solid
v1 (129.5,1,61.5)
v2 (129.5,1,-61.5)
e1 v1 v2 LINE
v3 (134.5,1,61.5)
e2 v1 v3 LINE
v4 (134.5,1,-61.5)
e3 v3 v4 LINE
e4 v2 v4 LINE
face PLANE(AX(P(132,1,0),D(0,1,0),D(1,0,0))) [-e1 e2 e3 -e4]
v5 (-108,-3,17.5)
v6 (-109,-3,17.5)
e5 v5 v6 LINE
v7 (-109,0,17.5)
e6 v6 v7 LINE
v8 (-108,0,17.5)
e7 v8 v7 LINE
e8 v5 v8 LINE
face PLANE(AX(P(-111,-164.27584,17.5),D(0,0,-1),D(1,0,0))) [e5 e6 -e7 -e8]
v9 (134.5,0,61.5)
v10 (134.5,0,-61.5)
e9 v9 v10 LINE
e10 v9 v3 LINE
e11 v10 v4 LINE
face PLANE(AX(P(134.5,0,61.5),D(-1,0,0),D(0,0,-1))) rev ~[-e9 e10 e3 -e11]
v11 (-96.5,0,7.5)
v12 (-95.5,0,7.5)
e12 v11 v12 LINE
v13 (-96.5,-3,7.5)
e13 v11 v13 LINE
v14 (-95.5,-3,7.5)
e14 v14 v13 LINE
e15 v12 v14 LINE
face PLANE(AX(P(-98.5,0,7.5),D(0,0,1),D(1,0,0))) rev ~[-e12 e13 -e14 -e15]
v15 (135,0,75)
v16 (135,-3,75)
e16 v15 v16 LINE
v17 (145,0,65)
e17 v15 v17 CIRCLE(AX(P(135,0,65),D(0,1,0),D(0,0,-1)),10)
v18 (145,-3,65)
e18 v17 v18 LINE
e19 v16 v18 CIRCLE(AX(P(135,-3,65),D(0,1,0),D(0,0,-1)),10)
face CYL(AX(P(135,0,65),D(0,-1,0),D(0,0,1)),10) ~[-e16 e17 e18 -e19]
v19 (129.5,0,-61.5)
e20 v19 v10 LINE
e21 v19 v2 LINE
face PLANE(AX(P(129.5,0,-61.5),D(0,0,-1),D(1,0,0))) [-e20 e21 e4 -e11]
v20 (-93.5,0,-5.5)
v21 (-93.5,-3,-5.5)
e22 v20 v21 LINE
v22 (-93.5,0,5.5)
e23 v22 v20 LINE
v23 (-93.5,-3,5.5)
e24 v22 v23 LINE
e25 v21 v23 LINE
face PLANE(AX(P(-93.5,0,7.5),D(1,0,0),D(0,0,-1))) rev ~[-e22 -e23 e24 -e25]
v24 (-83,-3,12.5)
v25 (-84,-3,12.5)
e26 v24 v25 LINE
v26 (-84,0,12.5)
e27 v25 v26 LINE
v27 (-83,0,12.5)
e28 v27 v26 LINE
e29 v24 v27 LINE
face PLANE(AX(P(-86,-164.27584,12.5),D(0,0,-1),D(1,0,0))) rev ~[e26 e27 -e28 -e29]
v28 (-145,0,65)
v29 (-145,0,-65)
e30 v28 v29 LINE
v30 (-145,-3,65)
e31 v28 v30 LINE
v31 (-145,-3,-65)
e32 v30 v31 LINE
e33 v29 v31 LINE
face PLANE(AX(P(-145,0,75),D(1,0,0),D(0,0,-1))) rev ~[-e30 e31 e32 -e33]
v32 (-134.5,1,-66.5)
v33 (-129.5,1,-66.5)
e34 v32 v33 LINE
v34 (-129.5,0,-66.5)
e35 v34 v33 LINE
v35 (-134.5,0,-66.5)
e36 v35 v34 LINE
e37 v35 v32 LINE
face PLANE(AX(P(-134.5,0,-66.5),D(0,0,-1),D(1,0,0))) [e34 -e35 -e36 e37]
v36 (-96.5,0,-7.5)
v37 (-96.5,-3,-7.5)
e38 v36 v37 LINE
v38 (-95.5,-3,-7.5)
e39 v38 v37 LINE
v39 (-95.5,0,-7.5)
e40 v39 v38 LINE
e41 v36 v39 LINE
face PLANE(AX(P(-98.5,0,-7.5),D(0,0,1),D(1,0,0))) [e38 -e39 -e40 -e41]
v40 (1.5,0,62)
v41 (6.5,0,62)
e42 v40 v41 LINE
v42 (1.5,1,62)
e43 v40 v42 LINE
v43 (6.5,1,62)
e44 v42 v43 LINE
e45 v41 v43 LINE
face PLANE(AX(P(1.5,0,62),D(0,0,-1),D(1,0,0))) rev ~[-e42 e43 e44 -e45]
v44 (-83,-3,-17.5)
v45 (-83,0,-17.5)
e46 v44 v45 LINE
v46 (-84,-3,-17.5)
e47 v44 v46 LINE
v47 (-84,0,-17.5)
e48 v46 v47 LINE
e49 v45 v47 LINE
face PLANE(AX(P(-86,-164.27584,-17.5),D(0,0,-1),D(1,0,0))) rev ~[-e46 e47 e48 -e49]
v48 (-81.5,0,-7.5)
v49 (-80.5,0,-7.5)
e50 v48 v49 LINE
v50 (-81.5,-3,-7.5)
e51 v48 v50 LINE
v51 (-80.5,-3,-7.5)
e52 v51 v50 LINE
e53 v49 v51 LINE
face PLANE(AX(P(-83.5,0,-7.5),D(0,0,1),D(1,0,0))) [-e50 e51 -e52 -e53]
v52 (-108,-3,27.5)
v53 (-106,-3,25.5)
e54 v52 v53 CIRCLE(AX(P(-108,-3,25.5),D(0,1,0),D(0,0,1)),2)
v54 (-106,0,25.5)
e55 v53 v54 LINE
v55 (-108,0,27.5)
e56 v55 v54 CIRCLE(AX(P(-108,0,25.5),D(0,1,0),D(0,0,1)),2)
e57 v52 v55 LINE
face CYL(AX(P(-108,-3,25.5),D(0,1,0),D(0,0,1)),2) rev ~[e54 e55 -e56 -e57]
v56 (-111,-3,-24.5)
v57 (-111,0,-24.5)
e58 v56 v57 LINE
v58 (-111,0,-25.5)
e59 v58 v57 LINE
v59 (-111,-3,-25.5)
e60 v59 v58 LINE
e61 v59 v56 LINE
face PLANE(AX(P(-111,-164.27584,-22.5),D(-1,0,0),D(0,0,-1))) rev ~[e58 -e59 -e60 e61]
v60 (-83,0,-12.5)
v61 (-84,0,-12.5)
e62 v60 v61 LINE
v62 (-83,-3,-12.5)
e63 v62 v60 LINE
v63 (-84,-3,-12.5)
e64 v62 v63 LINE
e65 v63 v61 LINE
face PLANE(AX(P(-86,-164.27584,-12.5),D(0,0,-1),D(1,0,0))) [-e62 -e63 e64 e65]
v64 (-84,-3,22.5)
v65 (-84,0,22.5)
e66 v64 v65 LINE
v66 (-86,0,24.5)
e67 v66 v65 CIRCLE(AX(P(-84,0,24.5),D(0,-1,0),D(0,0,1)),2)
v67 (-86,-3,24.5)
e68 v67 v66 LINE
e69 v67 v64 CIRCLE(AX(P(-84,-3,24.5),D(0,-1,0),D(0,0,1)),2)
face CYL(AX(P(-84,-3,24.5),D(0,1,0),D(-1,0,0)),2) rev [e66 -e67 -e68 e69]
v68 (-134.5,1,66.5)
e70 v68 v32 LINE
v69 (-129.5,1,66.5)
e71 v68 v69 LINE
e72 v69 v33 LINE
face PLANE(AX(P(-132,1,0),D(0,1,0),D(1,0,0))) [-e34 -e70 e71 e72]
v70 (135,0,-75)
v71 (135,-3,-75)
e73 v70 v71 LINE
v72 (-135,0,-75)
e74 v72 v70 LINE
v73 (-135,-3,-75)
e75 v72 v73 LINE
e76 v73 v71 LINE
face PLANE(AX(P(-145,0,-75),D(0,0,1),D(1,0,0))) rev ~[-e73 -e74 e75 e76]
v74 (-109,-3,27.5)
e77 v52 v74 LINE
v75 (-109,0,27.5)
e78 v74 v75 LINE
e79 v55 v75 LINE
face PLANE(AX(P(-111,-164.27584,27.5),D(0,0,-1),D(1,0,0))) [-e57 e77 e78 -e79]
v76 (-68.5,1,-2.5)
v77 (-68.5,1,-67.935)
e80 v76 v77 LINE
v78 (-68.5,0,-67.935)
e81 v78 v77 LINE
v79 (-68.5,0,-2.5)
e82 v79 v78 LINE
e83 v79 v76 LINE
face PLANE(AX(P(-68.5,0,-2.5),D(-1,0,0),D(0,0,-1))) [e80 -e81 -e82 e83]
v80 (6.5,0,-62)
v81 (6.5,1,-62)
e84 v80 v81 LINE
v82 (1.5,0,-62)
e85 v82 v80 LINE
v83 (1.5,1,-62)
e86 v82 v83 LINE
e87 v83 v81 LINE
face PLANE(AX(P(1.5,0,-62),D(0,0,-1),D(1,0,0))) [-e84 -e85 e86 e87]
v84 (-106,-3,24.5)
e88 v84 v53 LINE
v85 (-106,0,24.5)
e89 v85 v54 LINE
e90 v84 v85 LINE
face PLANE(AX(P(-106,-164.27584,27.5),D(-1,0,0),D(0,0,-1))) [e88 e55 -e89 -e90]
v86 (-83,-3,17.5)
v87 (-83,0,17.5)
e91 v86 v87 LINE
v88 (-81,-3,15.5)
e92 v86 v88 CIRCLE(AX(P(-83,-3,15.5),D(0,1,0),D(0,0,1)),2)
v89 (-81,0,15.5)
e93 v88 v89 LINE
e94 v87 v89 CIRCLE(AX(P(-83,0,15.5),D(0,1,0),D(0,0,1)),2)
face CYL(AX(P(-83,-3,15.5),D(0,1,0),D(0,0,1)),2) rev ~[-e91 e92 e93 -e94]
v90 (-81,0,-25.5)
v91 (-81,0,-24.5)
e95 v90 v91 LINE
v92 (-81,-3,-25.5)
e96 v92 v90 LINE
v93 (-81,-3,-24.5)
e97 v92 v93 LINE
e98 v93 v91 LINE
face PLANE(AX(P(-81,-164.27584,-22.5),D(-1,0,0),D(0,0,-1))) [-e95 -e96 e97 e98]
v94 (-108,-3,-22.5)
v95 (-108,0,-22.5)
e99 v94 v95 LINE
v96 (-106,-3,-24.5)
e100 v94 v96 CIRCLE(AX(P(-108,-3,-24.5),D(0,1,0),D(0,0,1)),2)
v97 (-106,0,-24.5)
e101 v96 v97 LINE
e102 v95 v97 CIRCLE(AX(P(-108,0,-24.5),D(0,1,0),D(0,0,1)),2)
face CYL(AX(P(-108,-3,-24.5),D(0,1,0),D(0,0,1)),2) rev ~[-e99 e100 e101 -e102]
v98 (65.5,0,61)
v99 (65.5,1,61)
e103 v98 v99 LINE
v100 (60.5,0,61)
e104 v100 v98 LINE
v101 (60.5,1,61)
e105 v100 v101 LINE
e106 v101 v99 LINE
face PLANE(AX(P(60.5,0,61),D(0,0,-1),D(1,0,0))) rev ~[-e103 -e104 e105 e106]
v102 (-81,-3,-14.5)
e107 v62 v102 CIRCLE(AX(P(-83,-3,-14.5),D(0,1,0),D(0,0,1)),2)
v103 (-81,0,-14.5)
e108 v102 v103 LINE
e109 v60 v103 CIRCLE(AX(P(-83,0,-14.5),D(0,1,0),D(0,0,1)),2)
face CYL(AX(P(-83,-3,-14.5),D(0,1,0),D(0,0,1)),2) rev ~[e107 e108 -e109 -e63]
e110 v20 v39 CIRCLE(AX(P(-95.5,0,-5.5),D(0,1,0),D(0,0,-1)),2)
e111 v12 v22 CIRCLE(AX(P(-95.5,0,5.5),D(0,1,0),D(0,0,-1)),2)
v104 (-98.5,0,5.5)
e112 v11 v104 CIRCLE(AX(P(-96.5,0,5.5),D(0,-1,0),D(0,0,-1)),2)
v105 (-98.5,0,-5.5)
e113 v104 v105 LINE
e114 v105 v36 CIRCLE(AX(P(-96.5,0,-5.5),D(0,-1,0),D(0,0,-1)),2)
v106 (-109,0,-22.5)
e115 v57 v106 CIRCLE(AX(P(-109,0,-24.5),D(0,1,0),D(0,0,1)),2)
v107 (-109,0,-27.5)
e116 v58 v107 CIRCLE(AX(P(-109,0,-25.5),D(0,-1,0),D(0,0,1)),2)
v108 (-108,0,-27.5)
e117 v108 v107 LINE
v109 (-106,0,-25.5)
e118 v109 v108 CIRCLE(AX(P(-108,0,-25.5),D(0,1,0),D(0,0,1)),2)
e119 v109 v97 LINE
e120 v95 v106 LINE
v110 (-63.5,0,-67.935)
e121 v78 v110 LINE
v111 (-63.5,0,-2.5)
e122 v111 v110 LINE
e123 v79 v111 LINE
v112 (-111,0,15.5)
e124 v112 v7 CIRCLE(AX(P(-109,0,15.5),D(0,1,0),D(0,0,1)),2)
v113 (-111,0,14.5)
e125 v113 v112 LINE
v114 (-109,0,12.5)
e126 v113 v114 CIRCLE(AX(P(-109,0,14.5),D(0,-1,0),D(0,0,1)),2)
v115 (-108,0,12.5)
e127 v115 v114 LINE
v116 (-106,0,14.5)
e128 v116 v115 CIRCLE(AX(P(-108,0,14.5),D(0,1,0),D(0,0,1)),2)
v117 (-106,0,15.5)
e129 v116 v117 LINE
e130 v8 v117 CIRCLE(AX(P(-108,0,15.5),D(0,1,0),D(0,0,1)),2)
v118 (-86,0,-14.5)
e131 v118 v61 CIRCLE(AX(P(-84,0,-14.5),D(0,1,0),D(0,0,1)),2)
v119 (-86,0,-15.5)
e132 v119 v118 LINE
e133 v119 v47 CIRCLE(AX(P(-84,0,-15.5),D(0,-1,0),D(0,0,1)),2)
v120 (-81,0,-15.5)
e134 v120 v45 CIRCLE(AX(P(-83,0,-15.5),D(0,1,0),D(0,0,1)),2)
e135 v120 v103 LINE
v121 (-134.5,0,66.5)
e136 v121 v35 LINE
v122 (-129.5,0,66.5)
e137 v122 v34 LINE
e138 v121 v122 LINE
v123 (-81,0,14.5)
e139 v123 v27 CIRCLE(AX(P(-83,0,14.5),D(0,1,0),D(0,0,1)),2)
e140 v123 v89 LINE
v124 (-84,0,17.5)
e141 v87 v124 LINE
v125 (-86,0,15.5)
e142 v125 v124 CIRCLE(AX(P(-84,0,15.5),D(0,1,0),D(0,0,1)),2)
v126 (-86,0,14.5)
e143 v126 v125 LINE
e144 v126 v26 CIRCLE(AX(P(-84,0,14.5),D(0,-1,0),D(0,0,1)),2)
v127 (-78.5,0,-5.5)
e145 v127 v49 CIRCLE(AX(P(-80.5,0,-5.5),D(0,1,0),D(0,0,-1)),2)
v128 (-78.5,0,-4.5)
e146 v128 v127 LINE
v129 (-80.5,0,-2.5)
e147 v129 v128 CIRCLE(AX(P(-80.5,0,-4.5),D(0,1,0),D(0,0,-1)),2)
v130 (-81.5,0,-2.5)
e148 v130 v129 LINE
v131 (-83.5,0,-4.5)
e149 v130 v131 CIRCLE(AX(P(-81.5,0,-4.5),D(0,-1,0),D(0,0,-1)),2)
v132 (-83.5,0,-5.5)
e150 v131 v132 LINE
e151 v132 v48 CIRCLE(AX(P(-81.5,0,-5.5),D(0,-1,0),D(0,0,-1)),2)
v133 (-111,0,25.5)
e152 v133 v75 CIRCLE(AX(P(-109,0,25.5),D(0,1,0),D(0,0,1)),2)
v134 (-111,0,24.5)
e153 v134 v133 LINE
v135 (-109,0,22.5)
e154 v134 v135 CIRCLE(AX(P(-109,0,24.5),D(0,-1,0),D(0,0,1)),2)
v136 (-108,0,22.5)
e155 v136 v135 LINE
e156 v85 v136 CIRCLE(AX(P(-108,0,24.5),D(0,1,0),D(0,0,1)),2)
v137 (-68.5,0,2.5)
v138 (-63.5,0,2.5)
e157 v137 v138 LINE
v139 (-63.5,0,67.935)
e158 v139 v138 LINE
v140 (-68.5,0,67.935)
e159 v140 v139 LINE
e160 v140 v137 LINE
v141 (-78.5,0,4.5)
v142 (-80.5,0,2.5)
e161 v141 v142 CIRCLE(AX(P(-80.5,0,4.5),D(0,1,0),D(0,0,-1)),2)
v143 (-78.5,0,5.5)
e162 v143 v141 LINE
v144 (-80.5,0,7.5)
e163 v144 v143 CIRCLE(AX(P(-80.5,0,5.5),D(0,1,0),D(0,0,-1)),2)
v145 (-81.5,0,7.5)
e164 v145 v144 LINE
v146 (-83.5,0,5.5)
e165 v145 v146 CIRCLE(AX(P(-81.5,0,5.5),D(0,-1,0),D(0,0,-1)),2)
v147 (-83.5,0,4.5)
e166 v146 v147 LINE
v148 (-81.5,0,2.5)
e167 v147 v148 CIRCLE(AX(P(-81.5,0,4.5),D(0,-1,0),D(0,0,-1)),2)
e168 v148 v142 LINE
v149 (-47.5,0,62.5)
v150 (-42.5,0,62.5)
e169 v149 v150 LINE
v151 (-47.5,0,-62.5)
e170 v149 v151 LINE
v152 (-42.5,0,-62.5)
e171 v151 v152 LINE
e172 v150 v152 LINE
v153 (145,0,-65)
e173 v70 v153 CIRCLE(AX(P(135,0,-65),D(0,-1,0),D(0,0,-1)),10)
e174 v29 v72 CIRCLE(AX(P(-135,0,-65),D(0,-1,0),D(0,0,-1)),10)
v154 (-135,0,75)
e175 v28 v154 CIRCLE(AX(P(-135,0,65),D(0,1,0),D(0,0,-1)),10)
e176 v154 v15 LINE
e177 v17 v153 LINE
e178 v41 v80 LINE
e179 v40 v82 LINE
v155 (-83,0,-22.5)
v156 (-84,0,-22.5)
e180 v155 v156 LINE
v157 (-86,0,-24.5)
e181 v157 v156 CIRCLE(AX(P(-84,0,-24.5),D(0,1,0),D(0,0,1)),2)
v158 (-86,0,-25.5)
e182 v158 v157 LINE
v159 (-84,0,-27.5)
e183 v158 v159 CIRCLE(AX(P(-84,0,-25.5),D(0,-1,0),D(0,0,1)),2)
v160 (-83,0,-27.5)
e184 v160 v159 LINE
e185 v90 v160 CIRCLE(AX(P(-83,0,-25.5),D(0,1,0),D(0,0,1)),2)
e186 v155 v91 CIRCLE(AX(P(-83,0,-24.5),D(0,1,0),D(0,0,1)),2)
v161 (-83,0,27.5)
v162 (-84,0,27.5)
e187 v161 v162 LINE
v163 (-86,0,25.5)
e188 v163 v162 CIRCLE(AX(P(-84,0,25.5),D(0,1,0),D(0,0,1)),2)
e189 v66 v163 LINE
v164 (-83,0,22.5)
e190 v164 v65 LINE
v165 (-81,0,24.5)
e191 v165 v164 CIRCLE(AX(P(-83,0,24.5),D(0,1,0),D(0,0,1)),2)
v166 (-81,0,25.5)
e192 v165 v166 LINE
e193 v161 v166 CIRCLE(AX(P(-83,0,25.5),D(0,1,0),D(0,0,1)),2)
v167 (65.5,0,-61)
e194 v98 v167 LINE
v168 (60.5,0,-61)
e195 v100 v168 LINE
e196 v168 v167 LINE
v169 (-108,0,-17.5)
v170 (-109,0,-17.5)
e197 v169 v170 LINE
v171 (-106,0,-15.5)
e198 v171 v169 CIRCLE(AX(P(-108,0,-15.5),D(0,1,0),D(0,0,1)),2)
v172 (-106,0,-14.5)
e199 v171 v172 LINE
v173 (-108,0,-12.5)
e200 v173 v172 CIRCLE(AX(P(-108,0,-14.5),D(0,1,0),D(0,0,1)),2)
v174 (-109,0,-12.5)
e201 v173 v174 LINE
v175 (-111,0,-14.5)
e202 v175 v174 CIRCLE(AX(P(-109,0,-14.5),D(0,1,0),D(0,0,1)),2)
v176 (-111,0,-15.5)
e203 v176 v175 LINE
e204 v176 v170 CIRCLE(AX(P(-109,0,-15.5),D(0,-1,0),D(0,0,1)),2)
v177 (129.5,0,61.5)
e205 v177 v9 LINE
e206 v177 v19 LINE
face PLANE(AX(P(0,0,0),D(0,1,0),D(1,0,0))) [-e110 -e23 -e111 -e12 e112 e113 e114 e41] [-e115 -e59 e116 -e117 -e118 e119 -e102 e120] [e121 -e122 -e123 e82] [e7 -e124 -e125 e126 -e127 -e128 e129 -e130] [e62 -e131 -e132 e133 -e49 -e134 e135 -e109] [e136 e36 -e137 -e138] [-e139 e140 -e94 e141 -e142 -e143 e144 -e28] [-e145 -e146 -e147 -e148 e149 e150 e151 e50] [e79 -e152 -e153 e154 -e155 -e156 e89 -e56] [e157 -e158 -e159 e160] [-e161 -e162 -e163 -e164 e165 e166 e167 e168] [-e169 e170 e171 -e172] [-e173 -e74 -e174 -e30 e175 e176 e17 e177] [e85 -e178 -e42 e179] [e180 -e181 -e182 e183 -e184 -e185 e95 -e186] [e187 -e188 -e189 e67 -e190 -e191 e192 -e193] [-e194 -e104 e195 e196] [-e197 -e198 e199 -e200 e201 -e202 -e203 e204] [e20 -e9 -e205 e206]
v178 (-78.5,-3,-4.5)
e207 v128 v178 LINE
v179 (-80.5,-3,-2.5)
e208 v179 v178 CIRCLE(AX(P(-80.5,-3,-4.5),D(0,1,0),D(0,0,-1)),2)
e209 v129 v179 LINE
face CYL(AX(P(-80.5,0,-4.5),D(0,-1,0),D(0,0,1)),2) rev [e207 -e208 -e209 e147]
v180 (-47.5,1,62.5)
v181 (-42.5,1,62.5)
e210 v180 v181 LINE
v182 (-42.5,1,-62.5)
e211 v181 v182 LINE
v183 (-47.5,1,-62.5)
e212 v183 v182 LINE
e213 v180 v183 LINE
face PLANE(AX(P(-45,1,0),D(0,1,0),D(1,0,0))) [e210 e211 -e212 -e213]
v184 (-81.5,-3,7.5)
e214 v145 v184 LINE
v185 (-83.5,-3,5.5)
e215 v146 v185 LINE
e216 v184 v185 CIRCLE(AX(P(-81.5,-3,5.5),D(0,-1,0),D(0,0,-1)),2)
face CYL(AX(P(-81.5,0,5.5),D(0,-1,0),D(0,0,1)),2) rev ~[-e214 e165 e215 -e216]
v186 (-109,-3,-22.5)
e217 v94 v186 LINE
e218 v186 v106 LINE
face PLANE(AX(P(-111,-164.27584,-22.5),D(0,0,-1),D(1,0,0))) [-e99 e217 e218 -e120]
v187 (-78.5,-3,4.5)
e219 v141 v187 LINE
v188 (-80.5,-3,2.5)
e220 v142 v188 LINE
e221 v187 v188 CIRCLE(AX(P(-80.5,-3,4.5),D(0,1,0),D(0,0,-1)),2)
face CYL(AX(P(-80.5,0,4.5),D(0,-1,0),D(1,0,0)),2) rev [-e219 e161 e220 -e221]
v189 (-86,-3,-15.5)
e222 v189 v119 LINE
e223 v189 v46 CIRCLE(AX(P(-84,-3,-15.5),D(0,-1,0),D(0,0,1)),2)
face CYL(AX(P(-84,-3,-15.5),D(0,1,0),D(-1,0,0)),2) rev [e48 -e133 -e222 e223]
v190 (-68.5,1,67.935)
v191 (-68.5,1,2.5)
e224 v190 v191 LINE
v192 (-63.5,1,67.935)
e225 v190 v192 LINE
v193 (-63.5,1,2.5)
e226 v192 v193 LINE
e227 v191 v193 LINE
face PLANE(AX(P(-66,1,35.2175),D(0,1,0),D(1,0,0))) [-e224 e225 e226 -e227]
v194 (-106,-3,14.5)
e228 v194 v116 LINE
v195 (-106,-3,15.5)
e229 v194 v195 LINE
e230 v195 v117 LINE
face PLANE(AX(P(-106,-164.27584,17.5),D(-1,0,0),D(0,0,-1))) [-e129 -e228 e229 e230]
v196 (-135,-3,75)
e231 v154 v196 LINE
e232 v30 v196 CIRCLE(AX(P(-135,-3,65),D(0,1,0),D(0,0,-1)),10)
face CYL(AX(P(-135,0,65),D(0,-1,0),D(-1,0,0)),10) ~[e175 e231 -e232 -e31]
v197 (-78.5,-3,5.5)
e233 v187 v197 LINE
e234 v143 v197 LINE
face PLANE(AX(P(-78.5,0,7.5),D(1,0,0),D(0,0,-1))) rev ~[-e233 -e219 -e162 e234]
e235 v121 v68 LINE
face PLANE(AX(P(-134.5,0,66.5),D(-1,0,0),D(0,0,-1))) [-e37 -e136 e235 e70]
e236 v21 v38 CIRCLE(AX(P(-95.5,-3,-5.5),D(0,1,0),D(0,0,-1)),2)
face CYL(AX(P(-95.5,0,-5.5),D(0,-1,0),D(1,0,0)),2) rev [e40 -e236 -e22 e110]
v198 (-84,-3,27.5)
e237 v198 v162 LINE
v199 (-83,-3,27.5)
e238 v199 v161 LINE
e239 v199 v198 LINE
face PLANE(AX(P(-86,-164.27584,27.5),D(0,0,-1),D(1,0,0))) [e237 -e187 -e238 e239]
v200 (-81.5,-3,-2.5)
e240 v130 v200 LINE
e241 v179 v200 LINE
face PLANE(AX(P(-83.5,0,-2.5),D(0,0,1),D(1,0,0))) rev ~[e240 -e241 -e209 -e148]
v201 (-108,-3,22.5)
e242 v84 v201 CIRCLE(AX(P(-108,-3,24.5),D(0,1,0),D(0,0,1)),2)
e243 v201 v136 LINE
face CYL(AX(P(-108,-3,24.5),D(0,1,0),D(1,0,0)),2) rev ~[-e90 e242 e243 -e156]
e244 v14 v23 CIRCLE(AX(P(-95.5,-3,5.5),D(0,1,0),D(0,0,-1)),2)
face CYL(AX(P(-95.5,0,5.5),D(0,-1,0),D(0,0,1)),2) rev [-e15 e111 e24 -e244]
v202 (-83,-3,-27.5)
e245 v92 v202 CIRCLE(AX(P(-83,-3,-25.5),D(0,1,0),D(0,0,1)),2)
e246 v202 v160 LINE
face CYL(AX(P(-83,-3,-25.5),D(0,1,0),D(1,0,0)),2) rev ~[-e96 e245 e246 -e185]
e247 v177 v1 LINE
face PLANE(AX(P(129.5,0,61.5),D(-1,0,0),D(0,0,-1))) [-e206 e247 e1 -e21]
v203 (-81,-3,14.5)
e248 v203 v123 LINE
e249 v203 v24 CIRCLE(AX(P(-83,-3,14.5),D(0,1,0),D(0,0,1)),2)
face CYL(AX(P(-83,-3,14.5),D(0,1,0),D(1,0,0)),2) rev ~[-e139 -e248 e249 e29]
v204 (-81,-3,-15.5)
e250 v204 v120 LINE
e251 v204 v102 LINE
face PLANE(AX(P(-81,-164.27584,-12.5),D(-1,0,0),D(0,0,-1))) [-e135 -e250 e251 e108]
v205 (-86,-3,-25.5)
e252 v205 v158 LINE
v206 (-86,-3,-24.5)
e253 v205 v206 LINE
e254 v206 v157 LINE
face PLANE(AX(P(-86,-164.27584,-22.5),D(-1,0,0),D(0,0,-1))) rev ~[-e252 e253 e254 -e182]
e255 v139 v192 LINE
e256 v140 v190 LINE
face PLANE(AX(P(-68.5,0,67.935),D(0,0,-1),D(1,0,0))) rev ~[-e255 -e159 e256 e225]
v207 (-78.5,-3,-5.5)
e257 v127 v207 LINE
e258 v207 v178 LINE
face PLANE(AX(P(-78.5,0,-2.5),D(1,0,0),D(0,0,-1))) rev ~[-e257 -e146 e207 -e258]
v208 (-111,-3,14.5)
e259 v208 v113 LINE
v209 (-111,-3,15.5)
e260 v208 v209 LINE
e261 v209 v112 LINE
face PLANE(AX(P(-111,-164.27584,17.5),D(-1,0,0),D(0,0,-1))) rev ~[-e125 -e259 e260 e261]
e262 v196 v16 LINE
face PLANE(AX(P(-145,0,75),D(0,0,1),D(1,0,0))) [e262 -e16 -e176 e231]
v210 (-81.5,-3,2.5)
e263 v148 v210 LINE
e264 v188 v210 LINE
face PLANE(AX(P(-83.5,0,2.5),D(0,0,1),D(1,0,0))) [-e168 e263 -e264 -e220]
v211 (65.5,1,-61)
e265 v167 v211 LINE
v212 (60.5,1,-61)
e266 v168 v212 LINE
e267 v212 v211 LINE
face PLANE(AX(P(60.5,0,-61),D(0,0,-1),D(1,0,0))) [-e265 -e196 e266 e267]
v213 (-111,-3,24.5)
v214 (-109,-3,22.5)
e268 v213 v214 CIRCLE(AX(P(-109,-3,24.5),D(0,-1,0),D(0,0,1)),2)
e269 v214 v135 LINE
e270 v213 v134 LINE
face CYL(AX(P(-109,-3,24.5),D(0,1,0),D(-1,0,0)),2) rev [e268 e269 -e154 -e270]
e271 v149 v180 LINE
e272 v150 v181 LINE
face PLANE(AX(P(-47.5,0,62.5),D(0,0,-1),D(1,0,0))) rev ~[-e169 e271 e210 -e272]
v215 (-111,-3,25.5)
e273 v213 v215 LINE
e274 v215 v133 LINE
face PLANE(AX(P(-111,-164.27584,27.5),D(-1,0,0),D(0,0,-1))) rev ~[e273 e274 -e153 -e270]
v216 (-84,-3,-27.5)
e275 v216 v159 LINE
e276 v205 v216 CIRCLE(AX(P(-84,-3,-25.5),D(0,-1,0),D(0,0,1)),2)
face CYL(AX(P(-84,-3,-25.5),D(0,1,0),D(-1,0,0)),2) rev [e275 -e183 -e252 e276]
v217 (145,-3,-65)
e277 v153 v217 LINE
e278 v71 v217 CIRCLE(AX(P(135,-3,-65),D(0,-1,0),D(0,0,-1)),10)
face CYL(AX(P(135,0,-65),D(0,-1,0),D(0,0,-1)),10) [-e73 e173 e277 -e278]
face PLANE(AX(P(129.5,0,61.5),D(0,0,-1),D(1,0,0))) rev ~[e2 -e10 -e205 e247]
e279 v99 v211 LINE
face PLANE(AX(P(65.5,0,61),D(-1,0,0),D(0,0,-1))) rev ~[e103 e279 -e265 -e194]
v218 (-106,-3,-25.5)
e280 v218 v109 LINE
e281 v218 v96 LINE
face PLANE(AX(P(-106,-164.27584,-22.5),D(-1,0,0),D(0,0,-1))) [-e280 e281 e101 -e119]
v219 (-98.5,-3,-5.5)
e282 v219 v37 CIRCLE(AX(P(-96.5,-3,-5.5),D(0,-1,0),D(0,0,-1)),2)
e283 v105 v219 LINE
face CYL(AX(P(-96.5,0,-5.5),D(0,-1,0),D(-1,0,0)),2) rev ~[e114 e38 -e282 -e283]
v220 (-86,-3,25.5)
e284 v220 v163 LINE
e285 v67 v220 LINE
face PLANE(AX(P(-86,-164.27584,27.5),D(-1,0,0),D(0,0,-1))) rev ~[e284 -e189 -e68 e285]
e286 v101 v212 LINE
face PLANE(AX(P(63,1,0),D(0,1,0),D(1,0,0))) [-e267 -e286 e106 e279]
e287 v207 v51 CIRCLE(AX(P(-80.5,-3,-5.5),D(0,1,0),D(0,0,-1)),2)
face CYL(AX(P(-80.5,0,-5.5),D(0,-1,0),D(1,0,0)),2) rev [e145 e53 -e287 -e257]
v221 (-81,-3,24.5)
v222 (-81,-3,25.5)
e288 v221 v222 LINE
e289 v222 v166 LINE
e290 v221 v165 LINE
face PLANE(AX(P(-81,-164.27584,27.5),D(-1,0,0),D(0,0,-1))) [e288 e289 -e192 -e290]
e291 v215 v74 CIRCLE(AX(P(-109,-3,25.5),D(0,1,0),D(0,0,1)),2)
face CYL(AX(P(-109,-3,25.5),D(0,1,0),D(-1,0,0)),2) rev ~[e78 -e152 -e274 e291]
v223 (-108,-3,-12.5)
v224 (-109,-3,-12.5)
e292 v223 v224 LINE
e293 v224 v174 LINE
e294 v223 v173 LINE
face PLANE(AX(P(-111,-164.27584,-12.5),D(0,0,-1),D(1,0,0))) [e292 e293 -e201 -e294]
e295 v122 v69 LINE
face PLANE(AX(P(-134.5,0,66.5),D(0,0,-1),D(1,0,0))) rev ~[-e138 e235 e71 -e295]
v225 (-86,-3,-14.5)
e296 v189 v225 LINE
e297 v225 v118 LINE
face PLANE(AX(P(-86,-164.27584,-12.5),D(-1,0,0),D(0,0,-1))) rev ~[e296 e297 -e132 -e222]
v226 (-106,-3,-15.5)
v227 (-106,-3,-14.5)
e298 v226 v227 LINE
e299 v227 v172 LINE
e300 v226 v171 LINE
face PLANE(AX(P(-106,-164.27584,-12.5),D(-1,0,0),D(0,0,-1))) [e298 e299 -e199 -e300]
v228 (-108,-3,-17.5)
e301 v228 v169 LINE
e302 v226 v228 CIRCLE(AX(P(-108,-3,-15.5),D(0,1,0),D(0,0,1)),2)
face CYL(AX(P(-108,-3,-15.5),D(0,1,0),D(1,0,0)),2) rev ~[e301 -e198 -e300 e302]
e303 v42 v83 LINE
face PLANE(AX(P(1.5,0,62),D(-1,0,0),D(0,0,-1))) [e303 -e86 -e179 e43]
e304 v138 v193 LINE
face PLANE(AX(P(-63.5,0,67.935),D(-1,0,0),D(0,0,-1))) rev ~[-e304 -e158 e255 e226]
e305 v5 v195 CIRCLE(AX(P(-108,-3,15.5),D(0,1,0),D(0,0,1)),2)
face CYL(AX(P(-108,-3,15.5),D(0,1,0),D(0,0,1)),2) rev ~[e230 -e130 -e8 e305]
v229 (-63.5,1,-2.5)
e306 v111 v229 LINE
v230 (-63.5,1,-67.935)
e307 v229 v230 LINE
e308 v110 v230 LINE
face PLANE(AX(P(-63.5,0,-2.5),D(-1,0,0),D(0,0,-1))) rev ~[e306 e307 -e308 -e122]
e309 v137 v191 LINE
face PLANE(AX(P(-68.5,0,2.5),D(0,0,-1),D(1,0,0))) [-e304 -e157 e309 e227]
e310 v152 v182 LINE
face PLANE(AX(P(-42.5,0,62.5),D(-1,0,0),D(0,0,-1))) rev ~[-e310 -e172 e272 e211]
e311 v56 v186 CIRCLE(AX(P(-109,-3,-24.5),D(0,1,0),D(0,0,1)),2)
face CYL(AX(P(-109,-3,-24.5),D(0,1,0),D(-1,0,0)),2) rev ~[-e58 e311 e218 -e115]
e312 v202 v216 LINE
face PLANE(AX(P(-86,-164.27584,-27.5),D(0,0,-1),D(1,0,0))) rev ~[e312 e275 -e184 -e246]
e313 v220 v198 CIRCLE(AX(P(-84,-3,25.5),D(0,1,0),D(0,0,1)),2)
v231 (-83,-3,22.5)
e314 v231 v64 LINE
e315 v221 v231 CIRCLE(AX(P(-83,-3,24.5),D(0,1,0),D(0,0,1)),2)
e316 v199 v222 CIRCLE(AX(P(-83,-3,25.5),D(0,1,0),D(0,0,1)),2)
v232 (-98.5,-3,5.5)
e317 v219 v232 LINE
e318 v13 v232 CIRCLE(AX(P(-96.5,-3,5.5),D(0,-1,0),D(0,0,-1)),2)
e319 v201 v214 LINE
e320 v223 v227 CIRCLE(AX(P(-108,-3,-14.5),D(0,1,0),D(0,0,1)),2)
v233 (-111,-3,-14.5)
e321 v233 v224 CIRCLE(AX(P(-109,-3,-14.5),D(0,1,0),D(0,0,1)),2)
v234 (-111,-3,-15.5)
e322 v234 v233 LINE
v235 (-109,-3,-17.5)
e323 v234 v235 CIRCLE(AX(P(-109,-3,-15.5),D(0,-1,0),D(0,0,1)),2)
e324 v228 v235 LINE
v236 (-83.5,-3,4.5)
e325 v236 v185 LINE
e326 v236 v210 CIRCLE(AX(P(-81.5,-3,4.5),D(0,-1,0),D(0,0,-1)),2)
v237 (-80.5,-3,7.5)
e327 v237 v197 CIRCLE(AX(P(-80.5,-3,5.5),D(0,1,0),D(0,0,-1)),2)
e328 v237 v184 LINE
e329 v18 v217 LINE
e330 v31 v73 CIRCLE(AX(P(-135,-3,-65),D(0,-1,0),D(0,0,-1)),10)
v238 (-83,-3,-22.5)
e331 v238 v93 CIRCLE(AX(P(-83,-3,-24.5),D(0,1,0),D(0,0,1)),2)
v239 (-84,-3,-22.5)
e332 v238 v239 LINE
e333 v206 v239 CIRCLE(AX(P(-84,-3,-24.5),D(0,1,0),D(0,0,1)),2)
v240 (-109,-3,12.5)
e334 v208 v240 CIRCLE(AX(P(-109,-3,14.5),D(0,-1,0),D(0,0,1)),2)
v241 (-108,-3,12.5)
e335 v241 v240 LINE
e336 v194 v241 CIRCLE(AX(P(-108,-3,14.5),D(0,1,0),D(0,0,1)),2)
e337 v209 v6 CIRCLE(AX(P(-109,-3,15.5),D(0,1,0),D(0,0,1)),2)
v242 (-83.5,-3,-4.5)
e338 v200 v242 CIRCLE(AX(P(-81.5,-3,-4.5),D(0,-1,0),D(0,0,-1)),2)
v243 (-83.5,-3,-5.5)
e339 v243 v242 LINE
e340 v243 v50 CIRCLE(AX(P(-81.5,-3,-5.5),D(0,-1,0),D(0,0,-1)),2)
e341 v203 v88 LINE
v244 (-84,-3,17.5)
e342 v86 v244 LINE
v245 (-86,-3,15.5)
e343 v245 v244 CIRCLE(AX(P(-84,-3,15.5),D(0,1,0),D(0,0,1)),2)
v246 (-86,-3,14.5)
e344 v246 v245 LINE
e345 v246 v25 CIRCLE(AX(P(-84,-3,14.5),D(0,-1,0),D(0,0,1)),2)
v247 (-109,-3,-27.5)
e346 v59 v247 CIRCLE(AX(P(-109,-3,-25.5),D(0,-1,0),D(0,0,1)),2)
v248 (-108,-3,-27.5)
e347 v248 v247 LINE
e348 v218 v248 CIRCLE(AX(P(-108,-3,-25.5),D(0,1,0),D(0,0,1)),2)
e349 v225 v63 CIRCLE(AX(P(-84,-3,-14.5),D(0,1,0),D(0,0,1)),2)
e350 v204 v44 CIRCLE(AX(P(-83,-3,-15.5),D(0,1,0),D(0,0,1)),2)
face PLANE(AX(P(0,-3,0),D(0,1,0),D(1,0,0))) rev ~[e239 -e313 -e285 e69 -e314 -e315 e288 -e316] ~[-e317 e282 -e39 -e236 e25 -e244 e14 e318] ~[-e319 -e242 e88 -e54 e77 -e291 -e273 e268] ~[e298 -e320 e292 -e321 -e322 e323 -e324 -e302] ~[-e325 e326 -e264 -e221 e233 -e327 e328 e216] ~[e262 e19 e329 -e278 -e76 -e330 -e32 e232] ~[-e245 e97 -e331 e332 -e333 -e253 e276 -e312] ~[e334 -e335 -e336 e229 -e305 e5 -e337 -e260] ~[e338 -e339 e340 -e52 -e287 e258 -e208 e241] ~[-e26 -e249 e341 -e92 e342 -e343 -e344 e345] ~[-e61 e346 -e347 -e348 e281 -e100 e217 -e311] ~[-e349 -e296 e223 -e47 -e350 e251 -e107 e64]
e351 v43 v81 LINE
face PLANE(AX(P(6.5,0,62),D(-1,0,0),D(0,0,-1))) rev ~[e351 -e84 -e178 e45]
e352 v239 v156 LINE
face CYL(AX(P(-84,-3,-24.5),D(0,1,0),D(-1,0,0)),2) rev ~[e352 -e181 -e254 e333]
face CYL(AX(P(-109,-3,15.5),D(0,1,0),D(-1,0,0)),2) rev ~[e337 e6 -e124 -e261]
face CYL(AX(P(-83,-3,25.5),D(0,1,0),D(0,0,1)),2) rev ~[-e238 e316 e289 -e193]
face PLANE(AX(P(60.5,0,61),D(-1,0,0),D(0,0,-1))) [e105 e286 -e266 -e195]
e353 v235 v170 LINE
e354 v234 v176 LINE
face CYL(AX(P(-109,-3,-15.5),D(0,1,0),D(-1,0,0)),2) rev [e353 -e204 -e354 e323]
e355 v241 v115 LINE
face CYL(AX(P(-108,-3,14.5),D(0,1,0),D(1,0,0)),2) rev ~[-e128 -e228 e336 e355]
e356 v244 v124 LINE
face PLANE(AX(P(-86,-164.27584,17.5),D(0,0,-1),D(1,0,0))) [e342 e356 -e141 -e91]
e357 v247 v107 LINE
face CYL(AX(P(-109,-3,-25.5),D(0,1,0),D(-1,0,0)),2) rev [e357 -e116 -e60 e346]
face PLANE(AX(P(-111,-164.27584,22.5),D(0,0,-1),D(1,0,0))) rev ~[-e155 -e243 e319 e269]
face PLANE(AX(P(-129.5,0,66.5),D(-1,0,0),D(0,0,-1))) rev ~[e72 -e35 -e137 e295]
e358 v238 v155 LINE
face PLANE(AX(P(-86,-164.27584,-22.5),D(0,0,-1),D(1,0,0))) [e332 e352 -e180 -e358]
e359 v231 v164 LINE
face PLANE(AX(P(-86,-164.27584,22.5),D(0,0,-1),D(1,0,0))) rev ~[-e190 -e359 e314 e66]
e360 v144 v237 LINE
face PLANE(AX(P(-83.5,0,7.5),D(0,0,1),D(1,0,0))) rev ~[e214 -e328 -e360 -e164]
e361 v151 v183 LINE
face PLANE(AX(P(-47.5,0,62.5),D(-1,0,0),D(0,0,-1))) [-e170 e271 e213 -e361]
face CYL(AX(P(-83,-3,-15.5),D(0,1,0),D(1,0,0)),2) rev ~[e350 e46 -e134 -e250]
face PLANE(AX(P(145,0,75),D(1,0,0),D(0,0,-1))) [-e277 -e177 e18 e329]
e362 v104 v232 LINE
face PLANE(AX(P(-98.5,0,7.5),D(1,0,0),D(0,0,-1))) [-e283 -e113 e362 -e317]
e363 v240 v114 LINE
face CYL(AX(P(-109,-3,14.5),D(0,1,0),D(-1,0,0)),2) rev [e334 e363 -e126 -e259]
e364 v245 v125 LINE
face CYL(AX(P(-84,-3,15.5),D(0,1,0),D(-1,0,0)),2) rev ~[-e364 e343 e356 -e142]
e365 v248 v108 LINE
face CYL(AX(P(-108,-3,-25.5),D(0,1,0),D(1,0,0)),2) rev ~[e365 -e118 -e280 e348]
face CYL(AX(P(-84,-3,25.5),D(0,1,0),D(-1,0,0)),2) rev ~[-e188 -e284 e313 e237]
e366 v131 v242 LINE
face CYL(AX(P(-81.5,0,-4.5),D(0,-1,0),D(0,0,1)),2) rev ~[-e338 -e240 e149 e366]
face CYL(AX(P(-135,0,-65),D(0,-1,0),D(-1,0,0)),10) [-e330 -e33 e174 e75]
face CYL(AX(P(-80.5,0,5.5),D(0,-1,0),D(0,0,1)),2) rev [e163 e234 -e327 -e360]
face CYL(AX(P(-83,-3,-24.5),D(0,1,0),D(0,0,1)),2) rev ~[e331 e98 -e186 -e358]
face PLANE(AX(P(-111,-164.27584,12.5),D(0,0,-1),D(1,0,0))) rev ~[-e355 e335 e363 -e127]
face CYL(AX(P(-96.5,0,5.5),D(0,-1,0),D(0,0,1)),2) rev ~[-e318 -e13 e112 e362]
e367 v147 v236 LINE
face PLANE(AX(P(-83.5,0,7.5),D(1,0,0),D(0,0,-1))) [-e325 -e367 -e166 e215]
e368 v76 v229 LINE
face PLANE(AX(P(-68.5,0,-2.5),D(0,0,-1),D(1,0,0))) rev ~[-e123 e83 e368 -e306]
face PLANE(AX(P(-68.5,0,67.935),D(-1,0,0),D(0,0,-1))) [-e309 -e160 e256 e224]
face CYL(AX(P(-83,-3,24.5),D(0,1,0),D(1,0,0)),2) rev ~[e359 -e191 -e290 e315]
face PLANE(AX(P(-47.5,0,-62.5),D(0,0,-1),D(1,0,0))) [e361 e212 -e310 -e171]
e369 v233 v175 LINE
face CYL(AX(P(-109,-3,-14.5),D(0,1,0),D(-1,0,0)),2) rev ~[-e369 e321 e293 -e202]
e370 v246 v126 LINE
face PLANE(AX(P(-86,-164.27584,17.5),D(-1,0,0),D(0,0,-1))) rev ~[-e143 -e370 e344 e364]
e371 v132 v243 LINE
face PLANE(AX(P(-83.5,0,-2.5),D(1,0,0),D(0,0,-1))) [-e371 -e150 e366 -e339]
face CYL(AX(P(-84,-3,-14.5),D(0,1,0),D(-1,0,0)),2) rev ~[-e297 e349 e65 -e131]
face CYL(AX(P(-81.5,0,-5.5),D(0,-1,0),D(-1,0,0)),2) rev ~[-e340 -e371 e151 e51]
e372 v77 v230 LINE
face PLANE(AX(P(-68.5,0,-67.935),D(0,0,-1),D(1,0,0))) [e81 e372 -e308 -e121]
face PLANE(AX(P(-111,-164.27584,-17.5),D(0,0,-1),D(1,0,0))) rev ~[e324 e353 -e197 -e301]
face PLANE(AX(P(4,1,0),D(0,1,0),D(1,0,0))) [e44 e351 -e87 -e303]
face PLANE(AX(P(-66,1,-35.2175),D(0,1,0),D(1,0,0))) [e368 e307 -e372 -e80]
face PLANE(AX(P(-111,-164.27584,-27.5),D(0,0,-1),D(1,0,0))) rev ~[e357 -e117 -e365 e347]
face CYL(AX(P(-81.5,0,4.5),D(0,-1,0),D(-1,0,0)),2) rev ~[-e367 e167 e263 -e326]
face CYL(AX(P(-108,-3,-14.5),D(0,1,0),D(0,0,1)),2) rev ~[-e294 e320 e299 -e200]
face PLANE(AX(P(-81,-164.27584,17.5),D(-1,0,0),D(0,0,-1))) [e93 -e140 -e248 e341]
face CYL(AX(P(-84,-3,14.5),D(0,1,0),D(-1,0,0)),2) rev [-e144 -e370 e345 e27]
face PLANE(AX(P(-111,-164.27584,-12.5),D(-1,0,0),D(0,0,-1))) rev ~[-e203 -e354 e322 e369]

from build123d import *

# Parameters (mm, degrees)
SKETCH2_W                = 5
SKETCH2_H                = 133
ELEMENTGEOMETRY_DEPTH    = 1
SKETCH2_H_2              = 65.435
ELEMENTGEOMETRY_2_DEPTH  = 1
ELEMENTGEOMETRY_3_DEPTH  = 1
SKETCH2_H_3              = 125
ELEMENTGEOMETRY_4_DEPTH  = 1
SKETCH2_H_4              = 124
ELEMENTGEOMETRY_5_DEPTH  = 1
SKETCH2_H_5              = 123
ELEMENTGEOMETRY_6_DEPTH  = 1
SKETCH2_H_6              = 122
ELEMENTGEOMETRY_7_DEPTH  = 1
SKETCH5_W                = 290
SKETCH5_H                = 150
BOARDGEOMETRY_DEPTH      = 3
CABLECUTOUT_REACH        = 165.276
SKETCH7_W                = 5
SKETCH7_H                = 5
SKETCH7_H_2              = 15
MOUNTINGHOLES_DEPTH      = 164.275840221
MOUNTINGHOLES_DEPTH_BACK = 164.275840221
SKETCH8_W                = 5
SKETCH8_H                = 5
BOARDFILLET_R            = 10
MOUNTINGHOLEFILLET_R     = 2


with BuildPart() as part:
    # Sketch2 → ElementGeometry (new body)
    with BuildSketch(Plane(origin=(0, 0, 0), x_dir=(1, 0, 0), z_dir=(0, 1, 0))):
        with Locations((-132, 0)):
            Rectangle(SKETCH2_W, SKETCH2_H)
    extrude(amount=ELEMENTGEOMETRY_DEPTH)



with BuildPart() as body_2:
    # Sketch2 → ElementGeometry 2 (new body)
    with BuildSketch(Plane(origin=(0, 0, 0), x_dir=(1, 0, 0), z_dir=(0, 1, 0))):
        with Locations((-66, 35.2175)):
            Rectangle(SKETCH2_W, SKETCH2_H_2)
    extrude(amount=ELEMENTGEOMETRY_2_DEPTH)


with BuildPart() as body_3:
    # Sketch2 → ElementGeometry 3 (new body)
    with BuildSketch(Plane(origin=(0, 0, 0), x_dir=(1, 0, 0), z_dir=(0, 1, 0))):
        with Locations((-66, -35.2175)):
            Rectangle(SKETCH2_W, SKETCH2_H_2)
    extrude(amount=ELEMENTGEOMETRY_3_DEPTH)


with BuildPart() as body_4:
    # Sketch2 → ElementGeometry 4 (new body)
    with BuildSketch(Plane(origin=(0, 0, 0), x_dir=(1, 0, 0), z_dir=(0, 1, 0))):
        with Locations((-45, 0)):
            Rectangle(SKETCH2_W, SKETCH2_H_3)
    extrude(amount=ELEMENTGEOMETRY_4_DEPTH)


with BuildPart() as body_5:
    # Sketch2 → ElementGeometry 5 (new body)
    with BuildSketch(Plane(origin=(0, 0, 0), x_dir=(1, 0, 0), z_dir=(0, 1, 0))):
        with Locations((4, 0)):
            Rectangle(SKETCH2_W, SKETCH2_H_4)
    extrude(amount=ELEMENTGEOMETRY_5_DEPTH)


with BuildPart() as body_6:
    # Sketch2 → ElementGeometry 6 (new body)
    with BuildSketch(Plane(origin=(0, 0, 0), x_dir=(1, 0, 0), z_dir=(0, 1, 0))):
        with Locations((132, 0)):
            Rectangle(SKETCH2_W, SKETCH2_H_5)
    extrude(amount=ELEMENTGEOMETRY_6_DEPTH)


with BuildPart() as body_7:
    # Sketch2 → ElementGeometry 7 (new body)
    with BuildSketch(Plane(origin=(0, 0, 0), x_dir=(1, 0, 0), z_dir=(0, 1, 0))):
        with Locations((63, 0)):
            Rectangle(SKETCH2_W, SKETCH2_H_6)
    extrude(amount=ELEMENTGEOMETRY_7_DEPTH)


with BuildPart() as part_1:
    add(part.part)

    add(body_2.part)  # BoardGeometry merges body 2

    add(body_3.part)  # BoardGeometry merges body 3

    add(body_4.part)  # BoardGeometry merges body 4

    add(body_5.part)  # BoardGeometry merges body 5

    add(body_6.part)  # BoardGeometry merges body 6

    add(body_7.part)  # BoardGeometry merges body 7
    # Sketch5 → BoardGeometry (add)
    with BuildSketch(Plane(origin=(0, 0, 0), x_dir=(1, 0, 0), z_dir=(0, 1, 0))):
        Rectangle(SKETCH5_W, SKETCH5_H)
    extrude(amount=-BOARDGEOMETRY_DEPTH)

    # Sketch7 → CableCutout (cut, up to next)
    with BuildSketch(Plane(origin=(0, 0, 0), x_dir=(1, 0, 0), z_dir=(0, 1, 0)), mode=Mode.PRIVATE) as cablecutout_sk1:
        with Locations((-81, -5)):
            Rectangle(SKETCH7_W, SKETCH7_H)
    cablecutout_tool1 = extrude(cablecutout_sk1.sketch, amount=-CABLECUTOUT_REACH, mode=Mode.PRIVATE) & part_1.part
    # Sketch7 → CableCutout (cut, up to next)
    with BuildSketch(Plane(origin=(0, 0, 0), x_dir=(1, 0, 0), z_dir=(0, 1, 0)), mode=Mode.PRIVATE) as cablecutout_sk2:
        with Locations((-81, 5)):
            Rectangle(SKETCH7_W, SKETCH7_H)
    cablecutout_tool2 = extrude(cablecutout_sk2.sketch, amount=-CABLECUTOUT_REACH, mode=Mode.PRIVATE) & part_1.part
    # Sketch7 → CableCutout (cut, up to next)
    with BuildSketch(Plane(origin=(0, 0, 0), x_dir=(1, 0, 0), z_dir=(0, 1, 0)), mode=Mode.PRIVATE) as cablecutout_sk3:
        with Locations((-96, 0)):
            Rectangle(SKETCH7_W, SKETCH7_H_2)
    cablecutout_tool3 = extrude(cablecutout_sk3.sketch, amount=-CABLECUTOUT_REACH, mode=Mode.PRIVATE) & part_1.part
    add(cablecutout_tool1.solids().sort_by_distance((-81, 0, 5))[0], mode=Mode.SUBTRACT)
    add(cablecutout_tool2.solids().sort_by_distance((-81, 0, -5))[0], mode=Mode.SUBTRACT)
    add(cablecutout_tool3.solids().sort_by_distance((-96, 0, 0))[0], mode=Mode.SUBTRACT)

    # Sketch8 → MountingHoles (cut, two sides: drawn at the far end of the back side and taken through both)
    with BuildSketch(Plane(origin=(0, 0, 0), x_dir=(1, 0, 0), z_dir=(0, 1, 0)).offset(-MOUNTINGHOLES_DEPTH_BACK)):
        with Locations((-108.5, 15)):
            Rectangle(SKETCH8_W, SKETCH8_H)
        with Locations((-83.5, 15)):
            Rectangle(SKETCH8_W, SKETCH8_H)
        with Locations((-83.5, -15)):
            Rectangle(SKETCH8_W, SKETCH8_H)
        with Locations((-108.5, -15)):
            Rectangle(SKETCH8_W, SKETCH8_H)
        with Locations((-83.5, -25)):
            Rectangle(SKETCH8_W, SKETCH8_H)
        with Locations((-108.5, -25)):
            Rectangle(SKETCH8_W, SKETCH8_H)
        with Locations((-83.5, 25)):
            Rectangle(SKETCH8_W, SKETCH8_H)
        with Locations((-108.5, 25)):
            Rectangle(SKETCH8_W, SKETCH8_H)
    extrude(amount=MOUNTINGHOLES_DEPTH + MOUNTINGHOLES_DEPTH_BACK, mode=Mode.SUBTRACT)

    # BoardFillet
    boardfillet_edges = [part_1.edges().sort_by_distance(p)[0] for p in [
        (-145, -1.5, -75),
        (145, -1.5, -75),
        (145, -1.5, 75),
        (-145, -1.5, 75),
    ]]
    fillet(boardfillet_edges, radius=BOARDFILLET_R)

    # MountingHoleFillet
    mountingholefillet_edges = [part_1.edges().sort_by_distance(p)[0] for p in [
        (-78.5, -1.5, -2.5),
        (-83.5, -1.5, -2.5),
        (-83.5, -1.5, -7.5),
        (-78.5, -1.5, -7.5),
        (-78.5, -1.5, 2.5),
        (-78.5, -1.5, 7.5),
        (-83.5, -1.5, 7.5),
        (-83.5, -1.5, 2.5),
        (-111, -1.5, 12.5),
        (-106, -1.5, 12.5),
        (-106, -1.5, 17.5),
        (-111, -1.5, 17.5),
        (-86, -1.5, 12.5),
        (-81, -1.5, 12.5),
        (-81, -1.5, 17.5),
        (-86, -1.5, 17.5),
        (-106, -1.5, 22.5),
        (-106, -1.5, 27.5),
        (-111, -1.5, 27.5),
        (-111, -1.5, 22.5),
        (-86, -1.5, -17.5),
        (-81, -1.5, -17.5),
        (-81, -1.5, -12.5),
        (-86, -1.5, -12.5),
        (-81, -1.5, 22.5),
        (-81, -1.5, 27.5),
        (-86, -1.5, 27.5),
        (-86, -1.5, 22.5),
        (-81, -1.5, -27.5),
        (-81, -1.5, -22.5),
        (-86, -1.5, -22.5),
        (-86, -1.5, -27.5),
        (-106, -1.5, -22.5),
        (-111, -1.5, -22.5),
        (-111, -1.5, -27.5),
        (-106, -1.5, -27.5),
        (-106, -1.5, -17.5),
        (-106, -1.5, -12.5),
        (-111, -1.5, -12.5),
        (-111, -1.5, -17.5),
        (-93.5, -1.5, -7.5),
        (-93.5, -1.5, 7.5),
        (-98.5, -1.5, 7.5),
        (-98.5, -1.5, -7.5),
    ]]
    fillet(mountingholefillet_edges, radius=MOUNTINGHOLEFILLET_R)


solid = part_1.part
